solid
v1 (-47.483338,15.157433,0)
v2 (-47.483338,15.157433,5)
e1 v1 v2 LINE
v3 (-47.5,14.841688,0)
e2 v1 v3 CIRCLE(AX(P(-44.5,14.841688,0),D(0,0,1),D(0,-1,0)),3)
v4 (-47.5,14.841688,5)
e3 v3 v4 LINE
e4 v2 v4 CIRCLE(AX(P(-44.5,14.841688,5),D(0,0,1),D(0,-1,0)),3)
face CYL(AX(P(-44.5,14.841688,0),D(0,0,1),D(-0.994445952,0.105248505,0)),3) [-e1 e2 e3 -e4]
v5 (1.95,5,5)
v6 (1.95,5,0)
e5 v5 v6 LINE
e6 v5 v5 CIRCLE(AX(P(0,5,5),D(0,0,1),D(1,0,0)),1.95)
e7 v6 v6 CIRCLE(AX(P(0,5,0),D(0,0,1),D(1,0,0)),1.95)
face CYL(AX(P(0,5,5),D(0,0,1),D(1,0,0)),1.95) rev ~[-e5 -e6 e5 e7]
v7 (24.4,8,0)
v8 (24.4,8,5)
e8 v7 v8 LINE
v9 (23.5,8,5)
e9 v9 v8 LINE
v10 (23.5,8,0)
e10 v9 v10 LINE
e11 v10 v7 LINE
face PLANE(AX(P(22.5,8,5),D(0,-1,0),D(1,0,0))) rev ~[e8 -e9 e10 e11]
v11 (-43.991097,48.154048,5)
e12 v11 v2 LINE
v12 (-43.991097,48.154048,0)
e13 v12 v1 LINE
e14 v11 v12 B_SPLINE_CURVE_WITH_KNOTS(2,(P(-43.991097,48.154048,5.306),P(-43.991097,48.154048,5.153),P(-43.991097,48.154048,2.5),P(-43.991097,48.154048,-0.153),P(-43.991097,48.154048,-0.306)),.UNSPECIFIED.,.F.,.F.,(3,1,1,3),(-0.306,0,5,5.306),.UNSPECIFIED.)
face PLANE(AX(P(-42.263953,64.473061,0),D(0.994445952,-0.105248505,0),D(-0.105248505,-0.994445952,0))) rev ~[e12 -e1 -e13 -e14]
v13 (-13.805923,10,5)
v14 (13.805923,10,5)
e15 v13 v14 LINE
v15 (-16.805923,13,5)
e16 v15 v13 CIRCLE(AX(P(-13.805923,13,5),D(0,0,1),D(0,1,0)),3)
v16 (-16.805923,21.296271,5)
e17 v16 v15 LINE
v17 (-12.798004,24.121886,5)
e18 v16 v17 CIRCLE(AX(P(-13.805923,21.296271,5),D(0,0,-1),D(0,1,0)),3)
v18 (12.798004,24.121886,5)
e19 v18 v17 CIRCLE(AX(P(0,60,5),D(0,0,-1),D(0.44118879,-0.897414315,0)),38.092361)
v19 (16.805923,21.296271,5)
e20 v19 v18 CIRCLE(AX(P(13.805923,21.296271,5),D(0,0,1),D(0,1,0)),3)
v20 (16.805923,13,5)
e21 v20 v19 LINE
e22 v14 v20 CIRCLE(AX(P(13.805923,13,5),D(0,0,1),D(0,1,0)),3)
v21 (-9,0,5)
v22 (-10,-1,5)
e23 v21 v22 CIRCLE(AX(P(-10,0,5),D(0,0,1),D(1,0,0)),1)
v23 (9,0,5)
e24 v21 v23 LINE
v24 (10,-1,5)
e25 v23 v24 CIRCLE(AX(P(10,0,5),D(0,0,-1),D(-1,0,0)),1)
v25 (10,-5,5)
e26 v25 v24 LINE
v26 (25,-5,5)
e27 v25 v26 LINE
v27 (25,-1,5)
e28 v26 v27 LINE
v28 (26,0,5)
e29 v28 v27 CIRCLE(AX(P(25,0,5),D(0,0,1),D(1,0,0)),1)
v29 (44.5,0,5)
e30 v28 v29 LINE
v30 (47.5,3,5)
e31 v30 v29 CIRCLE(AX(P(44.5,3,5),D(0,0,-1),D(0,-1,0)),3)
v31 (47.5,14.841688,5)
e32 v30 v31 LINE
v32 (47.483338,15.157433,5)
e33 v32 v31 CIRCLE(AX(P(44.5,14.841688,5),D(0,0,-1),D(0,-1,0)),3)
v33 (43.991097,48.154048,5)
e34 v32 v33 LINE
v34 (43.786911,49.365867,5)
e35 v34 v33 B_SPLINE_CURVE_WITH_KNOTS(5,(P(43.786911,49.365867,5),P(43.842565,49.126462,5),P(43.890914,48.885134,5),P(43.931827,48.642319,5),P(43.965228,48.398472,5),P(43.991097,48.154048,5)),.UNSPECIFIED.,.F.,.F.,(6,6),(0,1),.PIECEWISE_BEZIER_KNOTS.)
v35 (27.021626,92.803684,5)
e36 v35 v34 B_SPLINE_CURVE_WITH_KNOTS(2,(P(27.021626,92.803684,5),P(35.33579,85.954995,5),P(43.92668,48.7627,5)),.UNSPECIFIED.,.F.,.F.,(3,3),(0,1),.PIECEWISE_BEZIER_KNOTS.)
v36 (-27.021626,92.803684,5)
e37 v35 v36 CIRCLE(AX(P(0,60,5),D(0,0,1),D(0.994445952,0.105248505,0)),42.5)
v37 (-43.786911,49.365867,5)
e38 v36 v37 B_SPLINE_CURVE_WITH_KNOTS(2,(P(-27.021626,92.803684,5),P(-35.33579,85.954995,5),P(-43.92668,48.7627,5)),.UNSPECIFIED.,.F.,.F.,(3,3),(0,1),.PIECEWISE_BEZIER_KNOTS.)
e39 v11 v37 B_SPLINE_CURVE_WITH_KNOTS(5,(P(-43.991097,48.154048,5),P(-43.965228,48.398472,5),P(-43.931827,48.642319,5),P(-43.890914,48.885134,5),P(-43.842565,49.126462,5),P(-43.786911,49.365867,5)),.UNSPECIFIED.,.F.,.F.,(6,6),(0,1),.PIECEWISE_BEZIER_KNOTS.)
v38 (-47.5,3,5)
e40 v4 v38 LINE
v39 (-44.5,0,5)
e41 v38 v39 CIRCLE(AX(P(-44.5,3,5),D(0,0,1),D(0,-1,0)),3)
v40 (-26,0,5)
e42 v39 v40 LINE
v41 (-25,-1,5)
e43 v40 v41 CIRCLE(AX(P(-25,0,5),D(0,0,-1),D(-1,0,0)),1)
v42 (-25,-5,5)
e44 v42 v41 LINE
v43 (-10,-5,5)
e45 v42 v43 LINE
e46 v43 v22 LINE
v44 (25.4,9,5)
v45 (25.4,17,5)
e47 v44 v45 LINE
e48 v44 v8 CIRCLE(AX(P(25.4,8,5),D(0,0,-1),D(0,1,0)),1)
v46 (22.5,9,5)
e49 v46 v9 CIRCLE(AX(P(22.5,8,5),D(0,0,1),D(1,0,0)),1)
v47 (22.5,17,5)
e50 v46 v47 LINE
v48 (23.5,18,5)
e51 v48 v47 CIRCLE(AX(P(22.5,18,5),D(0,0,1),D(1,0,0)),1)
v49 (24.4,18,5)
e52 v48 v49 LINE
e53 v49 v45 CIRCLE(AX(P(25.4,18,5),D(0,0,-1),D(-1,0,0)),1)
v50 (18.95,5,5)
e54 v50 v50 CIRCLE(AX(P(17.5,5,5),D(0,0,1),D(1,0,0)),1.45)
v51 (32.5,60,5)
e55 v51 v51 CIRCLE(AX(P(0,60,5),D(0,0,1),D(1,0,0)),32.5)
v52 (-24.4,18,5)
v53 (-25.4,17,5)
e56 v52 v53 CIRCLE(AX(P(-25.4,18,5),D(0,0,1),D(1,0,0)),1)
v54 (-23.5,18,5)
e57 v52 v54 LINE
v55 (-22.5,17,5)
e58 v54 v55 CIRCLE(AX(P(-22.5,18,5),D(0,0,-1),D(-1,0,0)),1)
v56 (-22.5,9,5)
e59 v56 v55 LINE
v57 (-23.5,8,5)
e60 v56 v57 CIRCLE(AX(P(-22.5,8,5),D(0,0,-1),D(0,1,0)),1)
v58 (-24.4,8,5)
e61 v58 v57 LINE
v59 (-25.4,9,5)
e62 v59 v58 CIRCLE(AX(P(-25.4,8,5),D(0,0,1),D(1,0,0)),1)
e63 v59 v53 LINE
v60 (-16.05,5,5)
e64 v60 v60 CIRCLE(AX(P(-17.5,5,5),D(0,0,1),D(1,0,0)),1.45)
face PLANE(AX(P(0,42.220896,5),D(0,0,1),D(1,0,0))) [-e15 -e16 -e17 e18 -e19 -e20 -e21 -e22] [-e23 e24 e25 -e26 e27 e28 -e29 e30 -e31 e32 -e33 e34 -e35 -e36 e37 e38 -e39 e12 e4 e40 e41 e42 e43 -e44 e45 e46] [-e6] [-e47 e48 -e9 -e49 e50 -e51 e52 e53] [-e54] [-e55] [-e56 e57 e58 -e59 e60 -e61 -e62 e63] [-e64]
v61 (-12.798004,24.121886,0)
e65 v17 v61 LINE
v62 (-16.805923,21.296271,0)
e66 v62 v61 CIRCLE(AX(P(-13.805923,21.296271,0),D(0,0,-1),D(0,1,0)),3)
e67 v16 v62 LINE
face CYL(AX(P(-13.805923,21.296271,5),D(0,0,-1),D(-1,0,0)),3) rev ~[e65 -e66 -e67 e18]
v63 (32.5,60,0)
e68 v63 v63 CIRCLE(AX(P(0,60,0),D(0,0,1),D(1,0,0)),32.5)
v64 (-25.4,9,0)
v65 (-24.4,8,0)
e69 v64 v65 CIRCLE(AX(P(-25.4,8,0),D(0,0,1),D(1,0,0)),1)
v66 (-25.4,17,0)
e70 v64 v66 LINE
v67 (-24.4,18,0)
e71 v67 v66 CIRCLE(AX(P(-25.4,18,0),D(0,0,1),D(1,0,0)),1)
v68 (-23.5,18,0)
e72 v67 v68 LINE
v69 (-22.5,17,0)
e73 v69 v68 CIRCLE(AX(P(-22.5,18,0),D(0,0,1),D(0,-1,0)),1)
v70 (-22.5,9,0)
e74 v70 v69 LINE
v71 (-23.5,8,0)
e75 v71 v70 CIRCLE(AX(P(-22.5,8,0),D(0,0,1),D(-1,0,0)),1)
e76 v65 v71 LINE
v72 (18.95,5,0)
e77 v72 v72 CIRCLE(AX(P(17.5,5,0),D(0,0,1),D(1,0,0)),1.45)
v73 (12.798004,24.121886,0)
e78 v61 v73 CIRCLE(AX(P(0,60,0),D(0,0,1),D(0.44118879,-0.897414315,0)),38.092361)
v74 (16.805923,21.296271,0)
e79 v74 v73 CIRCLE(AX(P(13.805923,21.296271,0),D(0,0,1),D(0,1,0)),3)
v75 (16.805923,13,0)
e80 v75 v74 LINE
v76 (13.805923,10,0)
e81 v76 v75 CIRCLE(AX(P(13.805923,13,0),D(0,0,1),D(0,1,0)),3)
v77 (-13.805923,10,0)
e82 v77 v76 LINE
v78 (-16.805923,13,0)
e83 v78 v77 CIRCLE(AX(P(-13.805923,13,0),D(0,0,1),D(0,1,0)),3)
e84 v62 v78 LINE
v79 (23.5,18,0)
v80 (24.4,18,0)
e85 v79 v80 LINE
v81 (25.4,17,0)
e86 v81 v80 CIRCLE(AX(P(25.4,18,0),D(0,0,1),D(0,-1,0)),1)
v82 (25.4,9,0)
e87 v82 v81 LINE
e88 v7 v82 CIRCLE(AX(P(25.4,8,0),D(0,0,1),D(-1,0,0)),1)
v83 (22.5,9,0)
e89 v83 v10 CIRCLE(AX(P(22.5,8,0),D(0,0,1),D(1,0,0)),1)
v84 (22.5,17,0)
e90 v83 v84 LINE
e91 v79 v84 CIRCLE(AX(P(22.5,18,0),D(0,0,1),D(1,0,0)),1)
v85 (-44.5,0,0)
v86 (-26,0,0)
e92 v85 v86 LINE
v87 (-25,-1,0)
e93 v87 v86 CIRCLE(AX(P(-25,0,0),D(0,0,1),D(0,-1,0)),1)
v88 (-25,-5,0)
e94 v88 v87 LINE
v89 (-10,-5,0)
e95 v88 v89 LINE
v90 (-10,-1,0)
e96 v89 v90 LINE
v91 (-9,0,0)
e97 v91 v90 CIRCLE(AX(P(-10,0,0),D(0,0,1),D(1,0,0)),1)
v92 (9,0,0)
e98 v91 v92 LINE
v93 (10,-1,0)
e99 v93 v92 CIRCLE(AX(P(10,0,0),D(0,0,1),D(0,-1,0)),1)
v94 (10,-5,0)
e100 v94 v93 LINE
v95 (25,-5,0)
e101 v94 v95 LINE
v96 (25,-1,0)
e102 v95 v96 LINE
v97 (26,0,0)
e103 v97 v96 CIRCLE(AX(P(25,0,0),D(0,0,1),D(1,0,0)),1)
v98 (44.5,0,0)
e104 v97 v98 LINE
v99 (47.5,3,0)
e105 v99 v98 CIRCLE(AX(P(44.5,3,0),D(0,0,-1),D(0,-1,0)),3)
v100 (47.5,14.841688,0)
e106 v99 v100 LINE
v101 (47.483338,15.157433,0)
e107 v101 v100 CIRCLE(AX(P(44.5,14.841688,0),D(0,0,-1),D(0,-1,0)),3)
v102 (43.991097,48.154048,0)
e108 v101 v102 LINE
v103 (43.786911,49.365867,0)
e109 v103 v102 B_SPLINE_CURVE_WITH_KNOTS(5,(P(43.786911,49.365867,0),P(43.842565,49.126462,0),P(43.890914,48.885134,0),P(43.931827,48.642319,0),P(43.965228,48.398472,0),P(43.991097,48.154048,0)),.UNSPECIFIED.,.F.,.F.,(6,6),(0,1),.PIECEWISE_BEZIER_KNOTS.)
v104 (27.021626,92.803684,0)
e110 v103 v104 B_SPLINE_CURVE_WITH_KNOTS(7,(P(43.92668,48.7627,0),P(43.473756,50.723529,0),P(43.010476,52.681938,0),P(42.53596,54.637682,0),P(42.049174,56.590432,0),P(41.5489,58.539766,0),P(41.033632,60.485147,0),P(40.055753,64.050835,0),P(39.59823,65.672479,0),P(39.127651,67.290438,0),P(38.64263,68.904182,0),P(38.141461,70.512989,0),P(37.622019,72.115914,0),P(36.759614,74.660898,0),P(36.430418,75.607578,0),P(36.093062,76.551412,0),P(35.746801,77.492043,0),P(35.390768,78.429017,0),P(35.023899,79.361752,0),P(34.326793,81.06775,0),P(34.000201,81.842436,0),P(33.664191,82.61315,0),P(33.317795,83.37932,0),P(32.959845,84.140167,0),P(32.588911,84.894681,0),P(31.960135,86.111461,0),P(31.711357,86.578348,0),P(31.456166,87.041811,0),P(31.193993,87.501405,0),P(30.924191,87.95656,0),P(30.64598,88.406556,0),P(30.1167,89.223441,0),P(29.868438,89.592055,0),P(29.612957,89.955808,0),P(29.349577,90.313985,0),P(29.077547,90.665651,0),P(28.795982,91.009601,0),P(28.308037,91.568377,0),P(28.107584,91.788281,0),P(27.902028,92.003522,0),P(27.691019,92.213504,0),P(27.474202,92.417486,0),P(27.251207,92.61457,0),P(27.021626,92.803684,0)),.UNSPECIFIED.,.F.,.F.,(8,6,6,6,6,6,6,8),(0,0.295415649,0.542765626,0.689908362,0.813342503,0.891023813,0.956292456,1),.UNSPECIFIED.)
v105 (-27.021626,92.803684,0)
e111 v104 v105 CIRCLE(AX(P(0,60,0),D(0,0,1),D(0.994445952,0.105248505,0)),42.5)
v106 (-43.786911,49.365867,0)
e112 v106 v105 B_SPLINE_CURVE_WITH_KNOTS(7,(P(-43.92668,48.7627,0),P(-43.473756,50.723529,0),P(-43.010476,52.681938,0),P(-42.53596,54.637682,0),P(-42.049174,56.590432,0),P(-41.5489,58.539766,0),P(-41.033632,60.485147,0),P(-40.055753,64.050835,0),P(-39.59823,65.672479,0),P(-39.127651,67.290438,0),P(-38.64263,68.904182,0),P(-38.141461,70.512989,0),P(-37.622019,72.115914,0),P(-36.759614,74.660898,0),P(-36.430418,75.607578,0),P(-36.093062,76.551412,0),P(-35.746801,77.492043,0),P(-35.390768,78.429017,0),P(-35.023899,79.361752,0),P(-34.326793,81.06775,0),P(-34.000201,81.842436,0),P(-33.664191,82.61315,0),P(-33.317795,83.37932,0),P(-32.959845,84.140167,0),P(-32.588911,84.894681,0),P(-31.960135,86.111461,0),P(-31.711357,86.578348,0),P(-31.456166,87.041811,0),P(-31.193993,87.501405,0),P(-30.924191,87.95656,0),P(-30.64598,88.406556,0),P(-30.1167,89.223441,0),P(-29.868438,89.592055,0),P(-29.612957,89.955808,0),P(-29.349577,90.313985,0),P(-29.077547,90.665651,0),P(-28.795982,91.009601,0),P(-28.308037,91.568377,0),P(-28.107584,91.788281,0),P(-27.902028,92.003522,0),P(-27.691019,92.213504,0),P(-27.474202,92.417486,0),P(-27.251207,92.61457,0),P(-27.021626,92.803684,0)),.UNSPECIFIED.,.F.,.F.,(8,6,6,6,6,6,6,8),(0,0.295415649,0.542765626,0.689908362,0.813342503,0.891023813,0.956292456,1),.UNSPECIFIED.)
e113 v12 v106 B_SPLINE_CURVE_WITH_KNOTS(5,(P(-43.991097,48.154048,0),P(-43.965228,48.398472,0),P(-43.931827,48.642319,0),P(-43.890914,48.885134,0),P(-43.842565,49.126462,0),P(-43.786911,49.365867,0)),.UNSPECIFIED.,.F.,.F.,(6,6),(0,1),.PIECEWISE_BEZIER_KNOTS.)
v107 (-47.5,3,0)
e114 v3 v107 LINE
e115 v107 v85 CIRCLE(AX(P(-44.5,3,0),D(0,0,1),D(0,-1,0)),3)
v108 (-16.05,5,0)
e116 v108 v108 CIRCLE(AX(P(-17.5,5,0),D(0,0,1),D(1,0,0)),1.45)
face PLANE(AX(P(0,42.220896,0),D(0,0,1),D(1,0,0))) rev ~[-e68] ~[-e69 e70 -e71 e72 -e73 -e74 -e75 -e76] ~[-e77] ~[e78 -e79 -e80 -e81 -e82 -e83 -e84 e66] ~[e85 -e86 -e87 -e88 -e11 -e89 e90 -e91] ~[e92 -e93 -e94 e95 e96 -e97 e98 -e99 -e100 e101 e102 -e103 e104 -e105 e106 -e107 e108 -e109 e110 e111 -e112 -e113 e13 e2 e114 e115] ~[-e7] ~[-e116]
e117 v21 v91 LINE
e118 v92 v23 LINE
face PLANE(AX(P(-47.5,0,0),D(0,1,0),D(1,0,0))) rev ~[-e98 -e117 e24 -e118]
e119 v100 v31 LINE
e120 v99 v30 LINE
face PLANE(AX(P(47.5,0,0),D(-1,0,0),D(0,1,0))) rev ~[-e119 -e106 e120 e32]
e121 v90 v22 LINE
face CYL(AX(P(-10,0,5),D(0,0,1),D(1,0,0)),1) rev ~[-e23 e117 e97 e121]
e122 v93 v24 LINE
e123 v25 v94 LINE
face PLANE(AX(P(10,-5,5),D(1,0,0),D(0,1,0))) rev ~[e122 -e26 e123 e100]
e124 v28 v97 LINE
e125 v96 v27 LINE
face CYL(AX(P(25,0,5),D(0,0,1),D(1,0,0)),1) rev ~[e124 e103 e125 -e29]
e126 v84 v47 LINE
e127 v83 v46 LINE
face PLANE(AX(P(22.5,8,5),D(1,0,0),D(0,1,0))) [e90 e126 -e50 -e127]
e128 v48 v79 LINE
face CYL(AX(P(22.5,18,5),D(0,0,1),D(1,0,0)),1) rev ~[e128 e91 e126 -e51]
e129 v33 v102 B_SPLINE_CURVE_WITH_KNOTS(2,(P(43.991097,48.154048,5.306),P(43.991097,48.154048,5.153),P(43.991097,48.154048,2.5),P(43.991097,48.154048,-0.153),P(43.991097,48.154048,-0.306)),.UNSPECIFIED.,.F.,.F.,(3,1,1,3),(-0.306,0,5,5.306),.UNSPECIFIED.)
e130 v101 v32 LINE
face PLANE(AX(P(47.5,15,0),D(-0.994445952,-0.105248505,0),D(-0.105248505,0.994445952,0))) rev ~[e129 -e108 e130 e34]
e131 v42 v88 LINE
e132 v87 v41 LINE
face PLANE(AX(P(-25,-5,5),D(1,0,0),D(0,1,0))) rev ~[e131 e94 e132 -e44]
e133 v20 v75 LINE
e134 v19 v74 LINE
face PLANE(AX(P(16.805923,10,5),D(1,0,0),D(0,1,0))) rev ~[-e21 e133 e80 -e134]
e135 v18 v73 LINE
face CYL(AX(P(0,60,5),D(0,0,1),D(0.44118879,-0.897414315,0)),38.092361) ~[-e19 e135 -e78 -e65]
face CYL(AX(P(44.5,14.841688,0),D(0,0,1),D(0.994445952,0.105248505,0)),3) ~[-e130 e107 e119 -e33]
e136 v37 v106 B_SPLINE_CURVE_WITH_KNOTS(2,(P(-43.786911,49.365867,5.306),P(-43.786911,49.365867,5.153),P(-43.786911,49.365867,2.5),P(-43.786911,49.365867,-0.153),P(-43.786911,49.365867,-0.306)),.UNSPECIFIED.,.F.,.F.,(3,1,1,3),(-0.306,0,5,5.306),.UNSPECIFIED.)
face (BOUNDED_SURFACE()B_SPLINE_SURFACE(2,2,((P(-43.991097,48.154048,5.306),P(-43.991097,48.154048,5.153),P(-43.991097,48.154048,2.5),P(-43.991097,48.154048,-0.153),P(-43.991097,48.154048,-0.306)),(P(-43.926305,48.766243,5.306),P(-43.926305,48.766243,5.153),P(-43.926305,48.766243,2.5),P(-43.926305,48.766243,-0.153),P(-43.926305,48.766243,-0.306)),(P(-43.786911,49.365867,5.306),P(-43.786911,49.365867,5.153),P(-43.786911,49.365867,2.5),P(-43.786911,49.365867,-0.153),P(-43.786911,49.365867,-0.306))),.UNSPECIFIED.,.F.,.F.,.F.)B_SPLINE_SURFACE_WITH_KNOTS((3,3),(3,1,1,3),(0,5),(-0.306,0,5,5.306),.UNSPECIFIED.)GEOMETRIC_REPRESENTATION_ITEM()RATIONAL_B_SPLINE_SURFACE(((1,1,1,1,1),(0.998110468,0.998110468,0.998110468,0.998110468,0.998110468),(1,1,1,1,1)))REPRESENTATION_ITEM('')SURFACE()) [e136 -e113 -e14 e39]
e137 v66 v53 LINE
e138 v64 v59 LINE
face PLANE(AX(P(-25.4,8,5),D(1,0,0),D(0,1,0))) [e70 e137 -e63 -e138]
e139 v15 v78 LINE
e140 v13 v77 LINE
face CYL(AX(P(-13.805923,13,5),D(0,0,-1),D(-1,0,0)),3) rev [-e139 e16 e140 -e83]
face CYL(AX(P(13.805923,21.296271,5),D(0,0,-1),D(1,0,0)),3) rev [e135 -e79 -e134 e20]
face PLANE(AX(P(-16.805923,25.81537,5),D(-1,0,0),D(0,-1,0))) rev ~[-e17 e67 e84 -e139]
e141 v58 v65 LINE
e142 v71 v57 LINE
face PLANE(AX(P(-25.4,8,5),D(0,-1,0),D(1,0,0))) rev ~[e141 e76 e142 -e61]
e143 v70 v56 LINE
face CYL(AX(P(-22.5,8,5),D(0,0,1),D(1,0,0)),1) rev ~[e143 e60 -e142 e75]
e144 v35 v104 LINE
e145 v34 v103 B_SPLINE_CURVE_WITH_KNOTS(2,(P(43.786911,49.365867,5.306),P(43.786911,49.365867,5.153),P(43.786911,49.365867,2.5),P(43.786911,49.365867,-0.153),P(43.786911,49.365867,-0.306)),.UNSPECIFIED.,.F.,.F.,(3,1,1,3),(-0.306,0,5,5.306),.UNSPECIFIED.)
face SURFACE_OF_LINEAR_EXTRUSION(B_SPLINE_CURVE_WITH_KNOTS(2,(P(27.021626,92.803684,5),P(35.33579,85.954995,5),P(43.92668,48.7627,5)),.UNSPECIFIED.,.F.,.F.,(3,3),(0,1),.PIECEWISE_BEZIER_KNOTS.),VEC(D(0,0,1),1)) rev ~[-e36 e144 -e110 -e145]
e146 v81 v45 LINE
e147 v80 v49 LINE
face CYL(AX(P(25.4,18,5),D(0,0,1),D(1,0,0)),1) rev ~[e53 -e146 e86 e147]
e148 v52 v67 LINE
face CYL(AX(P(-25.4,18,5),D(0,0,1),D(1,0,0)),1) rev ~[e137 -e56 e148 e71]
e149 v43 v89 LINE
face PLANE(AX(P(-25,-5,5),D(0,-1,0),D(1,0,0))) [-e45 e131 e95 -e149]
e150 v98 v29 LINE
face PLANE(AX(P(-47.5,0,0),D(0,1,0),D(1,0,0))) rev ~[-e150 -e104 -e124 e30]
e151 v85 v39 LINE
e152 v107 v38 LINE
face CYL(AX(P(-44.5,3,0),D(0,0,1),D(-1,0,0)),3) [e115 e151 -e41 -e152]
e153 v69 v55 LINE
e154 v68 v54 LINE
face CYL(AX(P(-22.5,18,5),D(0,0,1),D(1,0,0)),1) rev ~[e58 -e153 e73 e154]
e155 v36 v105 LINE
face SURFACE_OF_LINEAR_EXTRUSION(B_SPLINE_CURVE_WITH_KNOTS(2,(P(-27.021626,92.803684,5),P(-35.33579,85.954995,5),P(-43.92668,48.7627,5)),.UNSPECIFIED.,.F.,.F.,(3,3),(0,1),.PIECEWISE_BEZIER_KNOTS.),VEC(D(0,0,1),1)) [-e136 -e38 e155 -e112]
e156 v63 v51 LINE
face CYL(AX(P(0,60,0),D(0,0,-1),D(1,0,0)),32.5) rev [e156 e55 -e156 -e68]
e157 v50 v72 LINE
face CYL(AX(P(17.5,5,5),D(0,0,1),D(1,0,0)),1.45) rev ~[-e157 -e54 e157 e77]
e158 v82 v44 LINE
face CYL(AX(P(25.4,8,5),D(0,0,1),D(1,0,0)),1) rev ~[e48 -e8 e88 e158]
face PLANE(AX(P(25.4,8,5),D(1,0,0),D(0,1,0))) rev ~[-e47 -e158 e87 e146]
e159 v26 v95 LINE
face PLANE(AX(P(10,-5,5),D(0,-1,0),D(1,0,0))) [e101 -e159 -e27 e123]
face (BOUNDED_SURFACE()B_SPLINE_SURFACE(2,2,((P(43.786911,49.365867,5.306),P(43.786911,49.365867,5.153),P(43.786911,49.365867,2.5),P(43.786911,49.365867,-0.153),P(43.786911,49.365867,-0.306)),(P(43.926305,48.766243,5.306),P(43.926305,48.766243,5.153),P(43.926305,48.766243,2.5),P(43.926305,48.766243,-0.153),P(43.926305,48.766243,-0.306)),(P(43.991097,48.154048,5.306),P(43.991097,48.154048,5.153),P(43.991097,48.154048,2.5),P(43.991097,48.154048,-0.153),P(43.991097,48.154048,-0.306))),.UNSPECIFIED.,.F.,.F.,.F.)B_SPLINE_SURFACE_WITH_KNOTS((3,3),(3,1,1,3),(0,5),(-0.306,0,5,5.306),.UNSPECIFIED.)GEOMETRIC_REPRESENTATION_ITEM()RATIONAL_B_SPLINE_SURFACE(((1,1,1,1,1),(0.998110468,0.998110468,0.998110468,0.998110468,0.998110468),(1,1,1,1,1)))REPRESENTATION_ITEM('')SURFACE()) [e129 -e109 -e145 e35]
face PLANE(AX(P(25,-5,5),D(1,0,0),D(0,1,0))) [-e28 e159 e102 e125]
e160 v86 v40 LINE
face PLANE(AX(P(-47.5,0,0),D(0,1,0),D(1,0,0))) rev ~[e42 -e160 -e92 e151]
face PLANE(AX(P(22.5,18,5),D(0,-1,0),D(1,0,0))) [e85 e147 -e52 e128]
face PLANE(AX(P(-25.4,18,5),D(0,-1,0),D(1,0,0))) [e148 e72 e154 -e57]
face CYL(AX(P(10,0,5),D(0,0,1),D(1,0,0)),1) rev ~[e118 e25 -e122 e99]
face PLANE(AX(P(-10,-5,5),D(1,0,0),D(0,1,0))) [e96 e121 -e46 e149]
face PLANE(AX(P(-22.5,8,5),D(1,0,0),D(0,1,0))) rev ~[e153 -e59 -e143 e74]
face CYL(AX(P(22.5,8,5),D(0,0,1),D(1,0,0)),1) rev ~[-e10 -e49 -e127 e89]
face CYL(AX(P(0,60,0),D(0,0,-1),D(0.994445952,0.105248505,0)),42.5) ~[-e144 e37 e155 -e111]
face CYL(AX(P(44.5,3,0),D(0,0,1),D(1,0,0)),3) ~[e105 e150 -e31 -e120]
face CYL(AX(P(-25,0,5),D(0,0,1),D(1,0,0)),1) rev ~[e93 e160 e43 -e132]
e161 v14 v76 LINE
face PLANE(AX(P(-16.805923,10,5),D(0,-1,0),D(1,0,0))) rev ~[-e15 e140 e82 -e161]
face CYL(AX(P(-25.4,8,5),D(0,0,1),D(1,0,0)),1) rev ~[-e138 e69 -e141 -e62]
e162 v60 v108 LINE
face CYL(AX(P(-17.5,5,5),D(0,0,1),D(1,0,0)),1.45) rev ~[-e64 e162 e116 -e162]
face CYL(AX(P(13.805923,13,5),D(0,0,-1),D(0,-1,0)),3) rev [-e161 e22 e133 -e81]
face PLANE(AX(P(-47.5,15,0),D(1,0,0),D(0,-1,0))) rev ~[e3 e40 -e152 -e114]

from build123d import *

# Parameters (mm, degrees)
SKETCH_1_R          = 32.5
EXTRUDE_1_DEPTH     = 5
SKETCH_2_W          = 15
SKETCH_2_H          = 5
EXTRUDE_2_DEPTH     = 5
SKETCH_3_R          = 1
CUT_EXTRUDE_1_DEPTH = 114.081828779
SKETCH_4_R          = 1.95
SKETCH_4_R_2        = 1.45
CUT_EXTRUDE_2_DEPTH = 114.081828779
FILLET_1_R          = 3
SKETCH_5_W          = 2.9
SKETCH_5_H          = 10
CUT_EXTRUDE_3_DEPTH = 114.081828779
SKETCH_6_R          = 1
CUT_EXTRUDE_4_DEPTH = 114.081828779
CUT_EXTRUDE_5_DEPTH = 114.081828779
FILLET_3_R          = 10
FILLET_4_R          = 3


with BuildPart() as part:
    # Sketch 1 → Extrude 1 (new body)
    with BuildSketch(Plane.XY):
        with BuildLine():
            Line((-42.263952975, 64.473061473), (-47.5, 15))
            Line((-47.5, 15), (-47.5, 0))
            Line((-47.5, 0), (47.5, 0))
            Line((47.5, 0), (47.5, 15))
            Line((47.5, 15), (42.263952975, 64.473061473))
            ThreePointArc((42.263952975, 64.473061473), (0, 102.5), (-42.263952975, 64.473061473))
        make_face()
        with Locations((0, 60)):
            Circle(SKETCH_1_R, mode=Mode.SUBTRACT)
    extrude(amount=EXTRUDE_1_DEPTH)

    # Sketch 2 → Extrude 2 (add)
    with BuildSketch(Plane.XY.offset(5)):
        with Locations((-17.5, -2.5)):
            Rectangle(SKETCH_2_W, SKETCH_2_H)
        with Locations((17.5, -2.5)):
            Rectangle(SKETCH_2_W, SKETCH_2_H)
    extrude(amount=-EXTRUDE_2_DEPTH)

    # Sketch 3 → Cut-Extrude 1 (cut, through all)
    with BuildSketch(Plane.XY.offset(5)):
        with Locations((-25, 0)):
            Circle(SKETCH_3_R)
        with Locations((-10, 0)):
            Circle(SKETCH_3_R)
        with Locations((10, 0)):
            Circle(SKETCH_3_R)
        with Locations((25, 0)):
            Circle(SKETCH_3_R)
    extrude(amount=-CUT_EXTRUDE_1_DEPTH, mode=Mode.SUBTRACT)

    # Sketch 4 → Cut-Extrude 2 (cut, through all)
    with BuildSketch(Plane.XY.offset(5)):
        with Locations((0, 5)):
            Circle(SKETCH_4_R)
        with Locations((-17.5, 5)):
            Circle(SKETCH_4_R_2)
        with Locations((17.5, 5)):
            Circle(SKETCH_4_R_2)
    extrude(amount=-CUT_EXTRUDE_2_DEPTH, mode=Mode.SUBTRACT)

    # Fillet 1
    fillet_1_edges = [part.edges().sort_by_distance(p)[0] for p in [
        (47.5, 15, 2.5),
        (47.5, 0, 2.5),
        (-47.5, 0, 2.5),
        (-47.5, 15, 2.5),
    ]]
    fillet(fillet_1_edges, radius=FILLET_1_R)

    # Sketch 5 → Cut-Extrude 3 (cut, through all)
    with BuildSketch(Plane.XY.offset(5)):
        with Locations((-23.95, 13)):
            Rectangle(SKETCH_5_W, SKETCH_5_H)
        with Locations((23.95, 13)):
            Rectangle(SKETCH_5_W, SKETCH_5_H)
    extrude(amount=-CUT_EXTRUDE_3_DEPTH, mode=Mode.SUBTRACT)

    # Sketch 6 → Cut-Extrude 4 (cut, through all)
    with BuildSketch(Plane.XY.offset(5)):
        with Locations((-25.4, 18)):
            Circle(SKETCH_6_R)
        with Locations((-22.5, 18)):
            Circle(SKETCH_6_R)
        with Locations((-22.5, 8)):
            Circle(SKETCH_6_R)
        with Locations((-25.4, 8)):
            Circle(SKETCH_6_R)
        with Locations((22.5, 18)):
            Circle(SKETCH_6_R)
        with Locations((25.4, 18)):
            Circle(SKETCH_6_R)
        with Locations((25.4, 8)):
            Circle(SKETCH_6_R)
        with Locations((22.5, 8)):
            Circle(SKETCH_6_R)
    extrude(amount=-CUT_EXTRUDE_4_DEPTH, mode=Mode.SUBTRACT)

    # Sketch 7 → Cut-Extrude 5 (cut, through all)
    with BuildSketch(Plane.XY.offset(5)):
        with BuildLine():
            Line((-16.805922522, 25.815370212), (-16.805922522, 9.999999776))
            Line((-16.805922522, 9.999999776), (16.805922522, 9.999999776))
            Line((16.805922522, 9.999999776), (16.805922522, 25.815370212))
            ThreePointArc((16.805922522, 25.815370212), (0, 21.907639276), (-16.805922522, 25.815370212))
        make_face()
        with BuildLine():
            Line((-46.54378056, 48.762700401), (-46.54378056, 92.803684493))
            Line((-46.54378056, 92.803684493), (-27.021626223, 92.803684493))
            add(Edge.make_bspline(
                [(-27.021626223, 92.803684493), (-35.335790396, 85.954995386), (-43.926679859, 48.762700401)],
                knots=[0, 0, 0, 1, 1, 1], degree=2))
            Line((-43.926679859, 48.762700401), (-46.54378056, 48.762700401))
        make_face()
        with BuildLine():
            Line((46.54378056, 92.803684493), (27.021626223, 92.803684493))
            add(Edge.make_bspline(
                [(27.021626223, 92.803684493), (35.335790396, 85.954995386), (43.926679859, 48.762700401)],
                knots=[0, 0, 0, 1, 1, 1], degree=2))
            Line((43.926679859, 48.762700401), (46.54378056, 48.762700401))
            Line((46.54378056, 48.762700401), (46.54378056, 92.803684493))
        make_face()
    extrude(amount=-CUT_EXTRUDE_5_DEPTH, mode=Mode.SUBTRACT)

    # Fillet 3
    fillet_3_edges = [part.edges().sort_by_distance(p)[0] for p in [
        (-43.926679859, 48.762700401, 2.5),
        (43.926679859, 48.762700401, 2.5),
    ]]
    fillet(fillet_3_edges, radius=FILLET_3_R)

    # Fillet 4
    fillet_4_edges = [part.edges().sort_by_distance(p)[0] for p in [
        (-16.805922522, 25.815370212, 2.5),
        (16.805922522, 25.815370212, 2.5),
        (16.805922522, 9.999999776, 2.5),
        (-16.805922522, 9.999999776, 2.5),
    ]]
    fillet(fillet_4_edges, radius=FILLET_4_R)


solid = part.part
